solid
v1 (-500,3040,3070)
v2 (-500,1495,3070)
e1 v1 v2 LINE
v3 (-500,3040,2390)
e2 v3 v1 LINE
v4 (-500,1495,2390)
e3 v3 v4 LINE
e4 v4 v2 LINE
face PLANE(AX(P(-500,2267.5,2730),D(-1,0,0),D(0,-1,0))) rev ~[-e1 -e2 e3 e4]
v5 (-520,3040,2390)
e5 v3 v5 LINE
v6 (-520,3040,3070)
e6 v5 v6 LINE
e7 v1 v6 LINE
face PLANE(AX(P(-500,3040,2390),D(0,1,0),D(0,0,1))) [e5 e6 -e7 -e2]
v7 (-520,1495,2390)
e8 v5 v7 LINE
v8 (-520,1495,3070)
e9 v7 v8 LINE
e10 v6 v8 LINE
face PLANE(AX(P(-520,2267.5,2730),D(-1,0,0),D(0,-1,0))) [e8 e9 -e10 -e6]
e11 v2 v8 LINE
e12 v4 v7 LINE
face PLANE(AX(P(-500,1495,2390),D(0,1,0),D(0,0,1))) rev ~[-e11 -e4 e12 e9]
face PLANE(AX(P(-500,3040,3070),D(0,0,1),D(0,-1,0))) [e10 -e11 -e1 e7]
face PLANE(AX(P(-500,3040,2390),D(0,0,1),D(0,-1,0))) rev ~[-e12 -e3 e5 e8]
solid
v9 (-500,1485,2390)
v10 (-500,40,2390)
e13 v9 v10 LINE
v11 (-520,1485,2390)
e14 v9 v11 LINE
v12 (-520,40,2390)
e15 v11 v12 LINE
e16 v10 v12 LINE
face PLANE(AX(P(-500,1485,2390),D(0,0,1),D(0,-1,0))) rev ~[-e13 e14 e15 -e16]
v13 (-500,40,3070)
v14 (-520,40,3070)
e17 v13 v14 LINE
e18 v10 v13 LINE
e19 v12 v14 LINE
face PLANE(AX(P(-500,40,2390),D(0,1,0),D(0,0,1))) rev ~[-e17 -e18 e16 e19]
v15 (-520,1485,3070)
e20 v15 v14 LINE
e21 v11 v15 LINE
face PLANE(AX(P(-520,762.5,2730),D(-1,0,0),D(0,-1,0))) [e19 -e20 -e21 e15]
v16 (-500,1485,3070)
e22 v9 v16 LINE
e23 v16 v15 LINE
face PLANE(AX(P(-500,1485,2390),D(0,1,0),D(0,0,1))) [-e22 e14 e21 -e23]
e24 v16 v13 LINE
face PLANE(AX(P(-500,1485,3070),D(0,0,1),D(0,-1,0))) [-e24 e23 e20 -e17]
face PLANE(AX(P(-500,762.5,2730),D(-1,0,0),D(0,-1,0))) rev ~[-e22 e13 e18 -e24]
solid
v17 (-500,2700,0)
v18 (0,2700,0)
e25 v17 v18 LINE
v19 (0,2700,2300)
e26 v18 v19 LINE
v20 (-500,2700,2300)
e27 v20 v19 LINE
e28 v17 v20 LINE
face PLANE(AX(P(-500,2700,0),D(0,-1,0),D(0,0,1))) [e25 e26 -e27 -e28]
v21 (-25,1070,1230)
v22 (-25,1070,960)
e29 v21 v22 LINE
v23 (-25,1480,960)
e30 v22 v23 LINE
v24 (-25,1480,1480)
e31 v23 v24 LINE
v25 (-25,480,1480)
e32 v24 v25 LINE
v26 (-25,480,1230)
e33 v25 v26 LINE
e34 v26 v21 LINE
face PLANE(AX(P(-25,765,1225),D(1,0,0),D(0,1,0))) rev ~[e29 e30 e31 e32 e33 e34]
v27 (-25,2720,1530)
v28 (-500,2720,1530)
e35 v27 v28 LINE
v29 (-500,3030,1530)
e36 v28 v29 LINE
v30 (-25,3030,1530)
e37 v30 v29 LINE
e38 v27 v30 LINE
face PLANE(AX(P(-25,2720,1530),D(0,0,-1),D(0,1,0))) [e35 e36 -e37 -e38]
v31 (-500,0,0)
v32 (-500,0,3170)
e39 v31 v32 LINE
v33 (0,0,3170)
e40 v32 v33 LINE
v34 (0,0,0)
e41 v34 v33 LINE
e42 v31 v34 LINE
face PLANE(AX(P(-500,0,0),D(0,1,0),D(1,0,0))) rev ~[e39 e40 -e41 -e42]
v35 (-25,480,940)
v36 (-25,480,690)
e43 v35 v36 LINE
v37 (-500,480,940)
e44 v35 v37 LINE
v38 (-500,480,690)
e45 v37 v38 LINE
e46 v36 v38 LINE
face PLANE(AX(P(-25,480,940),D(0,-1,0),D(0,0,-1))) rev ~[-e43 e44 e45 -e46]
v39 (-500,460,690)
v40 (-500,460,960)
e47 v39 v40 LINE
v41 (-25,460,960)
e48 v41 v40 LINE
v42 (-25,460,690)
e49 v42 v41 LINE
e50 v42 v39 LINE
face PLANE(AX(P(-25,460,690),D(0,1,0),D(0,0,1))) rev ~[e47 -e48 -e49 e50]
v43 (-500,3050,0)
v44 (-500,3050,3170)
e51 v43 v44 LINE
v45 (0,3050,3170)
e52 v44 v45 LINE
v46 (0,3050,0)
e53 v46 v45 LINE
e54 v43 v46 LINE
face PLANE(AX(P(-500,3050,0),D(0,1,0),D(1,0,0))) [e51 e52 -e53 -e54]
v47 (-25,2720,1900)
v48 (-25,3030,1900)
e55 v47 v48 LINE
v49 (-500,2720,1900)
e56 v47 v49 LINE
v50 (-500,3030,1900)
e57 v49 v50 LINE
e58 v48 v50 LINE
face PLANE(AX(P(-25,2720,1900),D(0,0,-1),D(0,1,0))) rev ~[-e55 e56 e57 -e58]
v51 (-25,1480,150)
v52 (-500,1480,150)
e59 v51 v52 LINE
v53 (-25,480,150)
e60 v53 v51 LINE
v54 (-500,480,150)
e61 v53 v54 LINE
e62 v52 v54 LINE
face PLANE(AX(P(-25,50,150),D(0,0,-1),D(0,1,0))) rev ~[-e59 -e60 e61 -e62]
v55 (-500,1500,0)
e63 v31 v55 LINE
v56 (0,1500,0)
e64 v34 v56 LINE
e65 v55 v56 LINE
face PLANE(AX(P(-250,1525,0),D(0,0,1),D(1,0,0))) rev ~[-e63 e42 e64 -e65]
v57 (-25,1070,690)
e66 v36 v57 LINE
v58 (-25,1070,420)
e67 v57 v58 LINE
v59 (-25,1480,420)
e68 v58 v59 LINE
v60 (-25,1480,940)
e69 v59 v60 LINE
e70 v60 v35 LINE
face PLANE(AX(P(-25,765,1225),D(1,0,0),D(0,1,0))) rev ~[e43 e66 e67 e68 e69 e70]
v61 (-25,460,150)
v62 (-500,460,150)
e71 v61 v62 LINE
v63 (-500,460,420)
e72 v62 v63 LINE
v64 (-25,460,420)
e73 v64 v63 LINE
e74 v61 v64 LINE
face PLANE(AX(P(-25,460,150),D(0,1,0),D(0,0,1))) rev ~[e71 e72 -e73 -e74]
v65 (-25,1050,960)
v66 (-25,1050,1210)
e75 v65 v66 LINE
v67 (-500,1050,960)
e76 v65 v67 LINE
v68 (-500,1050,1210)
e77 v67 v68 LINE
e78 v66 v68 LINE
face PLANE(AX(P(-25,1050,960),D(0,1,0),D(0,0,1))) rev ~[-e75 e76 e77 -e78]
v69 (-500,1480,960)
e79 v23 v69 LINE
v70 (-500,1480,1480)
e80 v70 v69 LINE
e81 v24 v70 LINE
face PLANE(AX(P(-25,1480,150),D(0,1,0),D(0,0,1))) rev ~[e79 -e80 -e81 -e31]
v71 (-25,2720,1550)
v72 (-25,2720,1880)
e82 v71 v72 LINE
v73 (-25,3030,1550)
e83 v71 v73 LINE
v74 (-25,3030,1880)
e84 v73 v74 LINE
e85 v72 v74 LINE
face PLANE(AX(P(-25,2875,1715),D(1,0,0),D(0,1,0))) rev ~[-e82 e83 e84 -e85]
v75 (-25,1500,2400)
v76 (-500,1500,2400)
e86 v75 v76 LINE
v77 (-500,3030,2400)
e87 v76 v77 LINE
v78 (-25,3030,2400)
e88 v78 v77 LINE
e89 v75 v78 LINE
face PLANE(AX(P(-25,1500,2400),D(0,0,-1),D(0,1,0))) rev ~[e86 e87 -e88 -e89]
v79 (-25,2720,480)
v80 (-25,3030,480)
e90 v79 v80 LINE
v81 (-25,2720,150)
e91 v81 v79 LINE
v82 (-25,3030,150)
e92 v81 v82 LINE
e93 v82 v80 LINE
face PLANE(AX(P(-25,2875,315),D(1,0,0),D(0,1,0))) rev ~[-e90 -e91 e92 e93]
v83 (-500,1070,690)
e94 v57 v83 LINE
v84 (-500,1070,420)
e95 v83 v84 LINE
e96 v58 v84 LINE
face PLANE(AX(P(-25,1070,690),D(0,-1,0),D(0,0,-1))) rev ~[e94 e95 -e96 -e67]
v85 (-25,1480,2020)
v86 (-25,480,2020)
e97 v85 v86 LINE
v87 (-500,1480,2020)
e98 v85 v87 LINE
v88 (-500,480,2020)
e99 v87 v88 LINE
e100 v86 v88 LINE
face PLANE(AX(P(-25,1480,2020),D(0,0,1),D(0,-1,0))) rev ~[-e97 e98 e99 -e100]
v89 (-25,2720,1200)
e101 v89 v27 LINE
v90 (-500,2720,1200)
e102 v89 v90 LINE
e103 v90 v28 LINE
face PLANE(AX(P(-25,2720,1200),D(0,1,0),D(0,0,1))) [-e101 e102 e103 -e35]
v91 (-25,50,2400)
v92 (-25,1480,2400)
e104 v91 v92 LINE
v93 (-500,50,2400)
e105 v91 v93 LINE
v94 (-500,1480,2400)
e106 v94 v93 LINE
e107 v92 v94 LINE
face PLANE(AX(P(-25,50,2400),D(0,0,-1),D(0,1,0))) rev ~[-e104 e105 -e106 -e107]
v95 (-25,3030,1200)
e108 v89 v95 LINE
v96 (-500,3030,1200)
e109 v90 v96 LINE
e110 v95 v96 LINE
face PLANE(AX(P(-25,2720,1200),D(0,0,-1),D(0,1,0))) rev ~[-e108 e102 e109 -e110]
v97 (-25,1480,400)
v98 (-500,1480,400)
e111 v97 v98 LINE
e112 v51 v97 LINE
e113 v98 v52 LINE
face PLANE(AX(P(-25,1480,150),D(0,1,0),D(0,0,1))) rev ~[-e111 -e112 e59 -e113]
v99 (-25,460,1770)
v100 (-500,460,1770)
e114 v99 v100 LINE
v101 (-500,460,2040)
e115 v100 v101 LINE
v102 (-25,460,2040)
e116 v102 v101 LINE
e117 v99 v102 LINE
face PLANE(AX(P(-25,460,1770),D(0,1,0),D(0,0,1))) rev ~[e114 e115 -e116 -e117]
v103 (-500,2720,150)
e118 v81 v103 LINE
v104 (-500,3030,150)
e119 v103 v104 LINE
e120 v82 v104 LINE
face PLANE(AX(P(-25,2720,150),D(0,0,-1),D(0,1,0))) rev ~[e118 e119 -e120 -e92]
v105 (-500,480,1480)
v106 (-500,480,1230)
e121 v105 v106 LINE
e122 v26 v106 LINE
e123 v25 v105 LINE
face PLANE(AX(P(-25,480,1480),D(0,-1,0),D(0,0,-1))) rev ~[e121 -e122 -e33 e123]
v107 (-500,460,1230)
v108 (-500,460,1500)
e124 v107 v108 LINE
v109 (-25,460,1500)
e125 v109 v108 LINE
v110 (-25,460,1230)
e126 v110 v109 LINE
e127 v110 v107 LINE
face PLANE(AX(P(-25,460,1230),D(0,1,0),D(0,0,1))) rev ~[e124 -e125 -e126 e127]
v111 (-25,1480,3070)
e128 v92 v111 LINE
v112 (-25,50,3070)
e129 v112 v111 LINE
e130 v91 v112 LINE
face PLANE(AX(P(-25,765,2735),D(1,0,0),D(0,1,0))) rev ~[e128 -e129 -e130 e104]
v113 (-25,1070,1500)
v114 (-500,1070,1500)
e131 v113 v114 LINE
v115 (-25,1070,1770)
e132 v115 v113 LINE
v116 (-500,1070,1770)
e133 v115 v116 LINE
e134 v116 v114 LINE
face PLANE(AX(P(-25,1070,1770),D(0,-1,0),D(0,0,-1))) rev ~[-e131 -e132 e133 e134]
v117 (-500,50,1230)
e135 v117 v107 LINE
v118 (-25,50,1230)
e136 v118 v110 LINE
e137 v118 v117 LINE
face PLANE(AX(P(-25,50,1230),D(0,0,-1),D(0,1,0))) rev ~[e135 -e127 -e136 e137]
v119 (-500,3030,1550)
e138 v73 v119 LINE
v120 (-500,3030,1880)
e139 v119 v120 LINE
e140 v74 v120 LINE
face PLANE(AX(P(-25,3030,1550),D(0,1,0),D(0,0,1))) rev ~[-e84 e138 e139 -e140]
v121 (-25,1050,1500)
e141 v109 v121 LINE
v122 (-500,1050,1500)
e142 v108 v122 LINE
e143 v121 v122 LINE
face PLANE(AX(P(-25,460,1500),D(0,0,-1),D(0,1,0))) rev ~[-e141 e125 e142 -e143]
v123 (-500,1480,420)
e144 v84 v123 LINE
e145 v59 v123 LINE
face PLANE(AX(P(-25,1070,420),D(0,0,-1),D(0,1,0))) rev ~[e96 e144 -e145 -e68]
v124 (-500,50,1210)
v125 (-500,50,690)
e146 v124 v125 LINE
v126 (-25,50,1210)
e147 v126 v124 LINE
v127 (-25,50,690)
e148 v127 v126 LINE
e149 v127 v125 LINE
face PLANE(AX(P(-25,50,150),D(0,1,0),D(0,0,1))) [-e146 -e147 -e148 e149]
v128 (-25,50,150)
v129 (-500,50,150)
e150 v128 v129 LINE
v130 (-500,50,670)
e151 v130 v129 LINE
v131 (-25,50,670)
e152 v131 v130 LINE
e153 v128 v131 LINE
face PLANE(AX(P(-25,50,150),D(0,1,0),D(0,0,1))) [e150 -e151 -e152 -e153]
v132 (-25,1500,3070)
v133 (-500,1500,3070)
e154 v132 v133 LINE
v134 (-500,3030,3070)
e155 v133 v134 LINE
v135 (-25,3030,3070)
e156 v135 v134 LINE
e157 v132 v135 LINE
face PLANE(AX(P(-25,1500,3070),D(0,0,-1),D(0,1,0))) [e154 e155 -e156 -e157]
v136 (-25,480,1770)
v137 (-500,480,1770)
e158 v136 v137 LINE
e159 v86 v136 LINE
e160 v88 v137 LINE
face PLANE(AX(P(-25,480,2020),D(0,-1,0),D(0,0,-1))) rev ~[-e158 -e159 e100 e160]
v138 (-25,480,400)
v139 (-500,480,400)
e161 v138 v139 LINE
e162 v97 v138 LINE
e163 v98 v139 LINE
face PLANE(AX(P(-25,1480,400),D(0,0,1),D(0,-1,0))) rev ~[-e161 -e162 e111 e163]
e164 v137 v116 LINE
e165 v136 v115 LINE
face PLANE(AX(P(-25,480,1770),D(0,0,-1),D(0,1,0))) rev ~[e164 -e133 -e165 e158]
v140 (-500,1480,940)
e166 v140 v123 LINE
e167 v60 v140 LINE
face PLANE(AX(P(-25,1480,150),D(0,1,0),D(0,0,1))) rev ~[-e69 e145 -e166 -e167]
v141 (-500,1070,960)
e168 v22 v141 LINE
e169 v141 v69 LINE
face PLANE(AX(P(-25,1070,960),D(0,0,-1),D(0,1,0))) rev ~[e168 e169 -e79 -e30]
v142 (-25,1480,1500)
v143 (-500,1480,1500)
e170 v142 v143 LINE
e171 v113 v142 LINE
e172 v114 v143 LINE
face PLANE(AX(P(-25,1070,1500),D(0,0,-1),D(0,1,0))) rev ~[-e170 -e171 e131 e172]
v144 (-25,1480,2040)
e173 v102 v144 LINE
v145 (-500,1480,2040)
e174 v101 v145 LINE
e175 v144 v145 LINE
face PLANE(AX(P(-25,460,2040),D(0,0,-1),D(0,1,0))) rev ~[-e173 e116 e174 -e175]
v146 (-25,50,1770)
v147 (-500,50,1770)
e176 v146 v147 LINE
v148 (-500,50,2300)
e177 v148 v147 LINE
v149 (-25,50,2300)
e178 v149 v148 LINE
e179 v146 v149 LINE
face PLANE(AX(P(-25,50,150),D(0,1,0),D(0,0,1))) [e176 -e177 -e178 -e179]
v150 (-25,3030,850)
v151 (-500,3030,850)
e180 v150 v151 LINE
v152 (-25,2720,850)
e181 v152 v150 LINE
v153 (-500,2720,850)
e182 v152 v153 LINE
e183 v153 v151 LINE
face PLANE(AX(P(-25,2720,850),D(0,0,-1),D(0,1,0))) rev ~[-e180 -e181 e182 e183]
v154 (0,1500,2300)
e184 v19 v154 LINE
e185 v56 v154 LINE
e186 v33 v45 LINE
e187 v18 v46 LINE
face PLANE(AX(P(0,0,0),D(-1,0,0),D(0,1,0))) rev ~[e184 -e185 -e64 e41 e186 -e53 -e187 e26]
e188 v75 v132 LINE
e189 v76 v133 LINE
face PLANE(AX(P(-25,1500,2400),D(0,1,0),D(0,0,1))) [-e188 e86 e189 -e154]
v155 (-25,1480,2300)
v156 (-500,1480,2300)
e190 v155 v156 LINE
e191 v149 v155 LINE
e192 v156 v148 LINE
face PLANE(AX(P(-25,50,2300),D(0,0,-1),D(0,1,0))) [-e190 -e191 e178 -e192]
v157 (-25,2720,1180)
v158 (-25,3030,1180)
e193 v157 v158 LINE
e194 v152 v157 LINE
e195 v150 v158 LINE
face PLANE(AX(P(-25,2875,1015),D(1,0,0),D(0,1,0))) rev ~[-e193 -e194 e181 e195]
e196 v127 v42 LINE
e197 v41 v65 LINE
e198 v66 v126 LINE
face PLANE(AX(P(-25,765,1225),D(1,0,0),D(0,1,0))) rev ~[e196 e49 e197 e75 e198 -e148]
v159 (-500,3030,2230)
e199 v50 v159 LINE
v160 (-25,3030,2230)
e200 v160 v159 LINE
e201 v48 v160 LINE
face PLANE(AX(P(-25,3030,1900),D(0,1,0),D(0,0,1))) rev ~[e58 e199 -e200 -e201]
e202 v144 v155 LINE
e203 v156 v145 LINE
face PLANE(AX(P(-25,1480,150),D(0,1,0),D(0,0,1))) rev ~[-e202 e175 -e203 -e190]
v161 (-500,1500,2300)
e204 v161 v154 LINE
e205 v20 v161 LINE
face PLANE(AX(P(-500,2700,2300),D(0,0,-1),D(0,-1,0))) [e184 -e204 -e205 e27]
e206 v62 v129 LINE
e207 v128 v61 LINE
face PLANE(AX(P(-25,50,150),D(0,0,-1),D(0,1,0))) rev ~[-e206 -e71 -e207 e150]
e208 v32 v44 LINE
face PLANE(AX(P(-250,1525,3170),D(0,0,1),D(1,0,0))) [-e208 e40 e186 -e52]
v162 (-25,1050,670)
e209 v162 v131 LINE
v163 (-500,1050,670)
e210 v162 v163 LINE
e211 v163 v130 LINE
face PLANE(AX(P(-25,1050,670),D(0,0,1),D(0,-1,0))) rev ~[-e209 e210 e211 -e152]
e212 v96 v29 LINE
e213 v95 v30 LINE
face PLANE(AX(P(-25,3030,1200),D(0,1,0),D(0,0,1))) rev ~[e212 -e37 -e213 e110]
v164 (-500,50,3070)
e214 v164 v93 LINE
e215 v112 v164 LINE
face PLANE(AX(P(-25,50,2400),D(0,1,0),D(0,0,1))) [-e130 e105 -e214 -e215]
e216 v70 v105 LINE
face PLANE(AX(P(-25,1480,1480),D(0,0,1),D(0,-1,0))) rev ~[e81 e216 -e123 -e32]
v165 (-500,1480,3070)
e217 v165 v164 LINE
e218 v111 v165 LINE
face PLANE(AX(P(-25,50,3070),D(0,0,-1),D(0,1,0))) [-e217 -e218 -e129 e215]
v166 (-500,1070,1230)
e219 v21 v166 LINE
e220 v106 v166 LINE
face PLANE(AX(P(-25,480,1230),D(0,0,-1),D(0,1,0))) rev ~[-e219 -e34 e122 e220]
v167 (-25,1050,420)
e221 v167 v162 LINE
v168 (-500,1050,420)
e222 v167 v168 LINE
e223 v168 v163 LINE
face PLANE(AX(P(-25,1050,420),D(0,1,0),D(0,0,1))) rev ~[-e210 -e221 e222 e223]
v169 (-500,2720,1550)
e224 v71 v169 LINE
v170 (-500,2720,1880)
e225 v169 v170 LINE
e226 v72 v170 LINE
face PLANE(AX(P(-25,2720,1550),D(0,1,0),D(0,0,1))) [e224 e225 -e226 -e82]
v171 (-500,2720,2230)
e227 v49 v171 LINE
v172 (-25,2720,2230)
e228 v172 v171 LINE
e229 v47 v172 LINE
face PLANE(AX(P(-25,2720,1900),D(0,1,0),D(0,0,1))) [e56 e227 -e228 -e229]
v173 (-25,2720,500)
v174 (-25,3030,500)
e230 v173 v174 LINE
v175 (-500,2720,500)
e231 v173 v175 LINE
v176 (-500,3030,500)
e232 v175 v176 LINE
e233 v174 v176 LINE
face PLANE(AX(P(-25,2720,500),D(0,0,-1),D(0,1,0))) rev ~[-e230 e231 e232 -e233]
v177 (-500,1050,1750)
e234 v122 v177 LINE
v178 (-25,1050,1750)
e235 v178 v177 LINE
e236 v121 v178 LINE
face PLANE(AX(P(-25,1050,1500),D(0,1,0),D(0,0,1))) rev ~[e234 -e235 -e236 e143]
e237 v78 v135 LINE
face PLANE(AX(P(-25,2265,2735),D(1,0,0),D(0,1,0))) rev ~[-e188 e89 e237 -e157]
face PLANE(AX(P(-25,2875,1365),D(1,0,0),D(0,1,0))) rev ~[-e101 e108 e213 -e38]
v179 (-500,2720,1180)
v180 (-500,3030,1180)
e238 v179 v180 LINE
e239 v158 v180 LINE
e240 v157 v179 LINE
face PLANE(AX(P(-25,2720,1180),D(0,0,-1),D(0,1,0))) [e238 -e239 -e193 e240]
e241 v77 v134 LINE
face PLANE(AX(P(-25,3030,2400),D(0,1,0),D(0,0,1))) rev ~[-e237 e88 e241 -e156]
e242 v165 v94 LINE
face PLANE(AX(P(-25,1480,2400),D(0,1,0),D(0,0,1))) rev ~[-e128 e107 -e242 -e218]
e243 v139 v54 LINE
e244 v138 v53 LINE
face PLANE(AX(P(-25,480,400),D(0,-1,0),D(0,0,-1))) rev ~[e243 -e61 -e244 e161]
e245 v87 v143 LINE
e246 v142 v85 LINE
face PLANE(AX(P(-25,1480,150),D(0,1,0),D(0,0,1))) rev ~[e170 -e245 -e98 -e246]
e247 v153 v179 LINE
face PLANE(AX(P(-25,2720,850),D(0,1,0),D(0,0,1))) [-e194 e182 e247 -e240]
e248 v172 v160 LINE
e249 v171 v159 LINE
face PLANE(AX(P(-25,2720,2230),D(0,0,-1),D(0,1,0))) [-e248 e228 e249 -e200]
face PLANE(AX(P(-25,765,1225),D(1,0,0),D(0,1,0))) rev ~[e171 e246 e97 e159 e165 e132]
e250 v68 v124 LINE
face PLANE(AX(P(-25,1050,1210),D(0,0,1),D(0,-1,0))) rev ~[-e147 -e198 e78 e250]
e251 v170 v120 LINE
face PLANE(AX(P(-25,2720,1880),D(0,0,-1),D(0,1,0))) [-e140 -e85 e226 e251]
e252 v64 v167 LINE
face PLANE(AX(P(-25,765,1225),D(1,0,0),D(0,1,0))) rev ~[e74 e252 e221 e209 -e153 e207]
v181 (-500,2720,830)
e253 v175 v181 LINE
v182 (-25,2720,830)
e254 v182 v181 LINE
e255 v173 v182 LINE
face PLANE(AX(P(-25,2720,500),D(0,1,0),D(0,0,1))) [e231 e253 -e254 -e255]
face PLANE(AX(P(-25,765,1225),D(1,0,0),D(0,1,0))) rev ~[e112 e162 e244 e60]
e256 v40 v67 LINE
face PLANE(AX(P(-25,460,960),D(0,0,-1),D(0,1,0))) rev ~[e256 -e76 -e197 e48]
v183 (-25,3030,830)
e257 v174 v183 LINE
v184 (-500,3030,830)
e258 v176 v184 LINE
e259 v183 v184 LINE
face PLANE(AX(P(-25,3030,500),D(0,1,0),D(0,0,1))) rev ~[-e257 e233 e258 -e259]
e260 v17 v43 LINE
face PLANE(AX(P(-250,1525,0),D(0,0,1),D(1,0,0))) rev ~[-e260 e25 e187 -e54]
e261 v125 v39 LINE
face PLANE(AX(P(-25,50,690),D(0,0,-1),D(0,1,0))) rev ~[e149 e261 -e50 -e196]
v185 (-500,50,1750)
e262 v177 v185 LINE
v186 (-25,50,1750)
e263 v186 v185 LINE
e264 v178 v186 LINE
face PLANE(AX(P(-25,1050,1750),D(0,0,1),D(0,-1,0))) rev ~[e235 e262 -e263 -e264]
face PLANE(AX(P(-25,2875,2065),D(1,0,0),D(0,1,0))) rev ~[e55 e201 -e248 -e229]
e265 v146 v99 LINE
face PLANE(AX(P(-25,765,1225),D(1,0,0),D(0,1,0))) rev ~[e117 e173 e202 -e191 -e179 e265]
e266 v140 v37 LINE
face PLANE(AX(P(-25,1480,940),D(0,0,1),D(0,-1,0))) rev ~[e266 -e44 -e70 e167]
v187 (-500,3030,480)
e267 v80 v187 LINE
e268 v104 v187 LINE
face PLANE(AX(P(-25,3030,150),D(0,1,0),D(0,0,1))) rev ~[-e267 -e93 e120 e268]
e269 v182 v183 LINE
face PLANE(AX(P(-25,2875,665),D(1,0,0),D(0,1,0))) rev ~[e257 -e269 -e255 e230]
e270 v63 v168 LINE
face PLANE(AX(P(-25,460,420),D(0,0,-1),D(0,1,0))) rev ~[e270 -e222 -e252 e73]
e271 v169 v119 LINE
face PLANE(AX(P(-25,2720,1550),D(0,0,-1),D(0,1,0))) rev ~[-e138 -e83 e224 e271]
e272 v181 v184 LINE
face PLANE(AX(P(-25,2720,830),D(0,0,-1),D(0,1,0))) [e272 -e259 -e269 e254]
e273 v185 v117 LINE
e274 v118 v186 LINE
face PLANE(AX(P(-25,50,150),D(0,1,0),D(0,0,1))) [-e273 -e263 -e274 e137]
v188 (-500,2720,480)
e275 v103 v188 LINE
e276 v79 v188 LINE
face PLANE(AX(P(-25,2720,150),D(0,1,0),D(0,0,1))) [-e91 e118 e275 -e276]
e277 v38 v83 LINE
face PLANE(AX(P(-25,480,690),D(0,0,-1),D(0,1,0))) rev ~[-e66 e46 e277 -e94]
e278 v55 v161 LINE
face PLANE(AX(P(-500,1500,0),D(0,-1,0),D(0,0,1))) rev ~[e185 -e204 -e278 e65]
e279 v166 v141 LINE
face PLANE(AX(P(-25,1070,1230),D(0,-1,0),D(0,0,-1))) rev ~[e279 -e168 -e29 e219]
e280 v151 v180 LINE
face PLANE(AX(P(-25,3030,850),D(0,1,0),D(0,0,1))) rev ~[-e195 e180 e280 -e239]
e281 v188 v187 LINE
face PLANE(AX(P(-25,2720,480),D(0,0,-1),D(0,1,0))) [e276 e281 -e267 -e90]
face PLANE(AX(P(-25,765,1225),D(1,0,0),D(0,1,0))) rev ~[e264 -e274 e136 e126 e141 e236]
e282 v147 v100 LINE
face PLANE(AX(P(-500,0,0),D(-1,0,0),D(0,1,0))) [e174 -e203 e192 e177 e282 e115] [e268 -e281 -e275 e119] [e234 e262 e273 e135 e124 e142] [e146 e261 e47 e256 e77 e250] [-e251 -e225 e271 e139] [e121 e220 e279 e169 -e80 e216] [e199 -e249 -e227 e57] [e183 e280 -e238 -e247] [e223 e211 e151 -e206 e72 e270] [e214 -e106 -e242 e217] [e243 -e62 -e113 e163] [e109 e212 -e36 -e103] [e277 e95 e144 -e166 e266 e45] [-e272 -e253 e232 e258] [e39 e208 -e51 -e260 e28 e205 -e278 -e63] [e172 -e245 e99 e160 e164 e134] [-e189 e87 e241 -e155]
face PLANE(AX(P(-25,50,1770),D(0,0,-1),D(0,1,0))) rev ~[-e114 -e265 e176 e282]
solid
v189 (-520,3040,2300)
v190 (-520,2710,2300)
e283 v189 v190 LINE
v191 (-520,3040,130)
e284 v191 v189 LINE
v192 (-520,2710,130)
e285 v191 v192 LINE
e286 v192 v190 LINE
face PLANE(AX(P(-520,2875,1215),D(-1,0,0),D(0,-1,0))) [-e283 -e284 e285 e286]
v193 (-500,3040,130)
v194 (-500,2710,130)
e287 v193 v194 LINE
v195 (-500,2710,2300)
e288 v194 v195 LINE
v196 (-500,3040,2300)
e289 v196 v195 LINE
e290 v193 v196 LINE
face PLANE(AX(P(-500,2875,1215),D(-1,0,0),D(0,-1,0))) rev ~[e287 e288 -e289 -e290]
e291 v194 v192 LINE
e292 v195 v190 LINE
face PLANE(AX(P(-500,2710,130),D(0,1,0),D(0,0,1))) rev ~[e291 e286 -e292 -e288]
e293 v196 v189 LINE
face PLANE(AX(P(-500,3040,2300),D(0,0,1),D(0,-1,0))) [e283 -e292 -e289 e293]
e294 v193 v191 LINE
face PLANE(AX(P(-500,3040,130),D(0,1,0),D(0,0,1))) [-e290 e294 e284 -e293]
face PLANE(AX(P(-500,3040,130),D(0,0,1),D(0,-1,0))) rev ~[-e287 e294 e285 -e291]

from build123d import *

# Parameters (mm, degrees)
F0_W      = 500
F0_H      = 3050
F1_DEPTH  = 3170
F3_W      = 1200
F3_H      = 2300
F4_DEPTH  = 500
F7_W      = 310
F7_H      = 330
F7_W_2    = 1530
F7_H_2    = 670
F8_DEPTH  = 475
F9_W      = 1430
F9_H      = 2150
F9_H_2    = 670
F10_DEPTH = 475.001
F12_DEPTH = 475
F13_W     = 330
F13_H     = 2170
F13_W_2   = 1545
F13_H_2   = 680
F13_W_3   = 1445
F14_DEPTH = 20


with BuildPart() as f1:
    # F0 (on Top) → F1 (new body)
    with BuildSketch(Plane.XY):
        with Locations((-250, 1525)):
            Rectangle(F0_W, F0_H)
    extrude(amount=F1_DEPTH)

    # F3 (on face) → F4 (cut, through all)
    with BuildSketch(Plane(origin=(-500, 0, 0), x_dir=(0, -1, 0), z_dir=(-1, 0, 0))):
        with Locations((-2100, 1150)):
            Rectangle(F3_W, F3_H)
    extrude(amount=-F4_DEPTH, mode=Mode.SUBTRACT)

    # F7 (on offset) → F8 (cut, through all)
    with BuildSketch(Plane.YZ.offset(-25)):
        with Locations((2875, 315)):
            Rectangle(F7_W, F7_H)
        with Locations((2875, 665)):
            Rectangle(F7_W, F7_H)
        with Locations((2875, 1015)):
            Rectangle(F7_W, F7_H)
        with Locations((2875, 1365)):
            Rectangle(F7_W, F7_H)
        with Locations((2875, 1715)):
            Rectangle(F7_W, F7_H)
        with Locations((2875, 2065)):
            Rectangle(F7_W, F7_H)
        with Locations((2265, 2735)):
            Rectangle(F7_W_2, F7_H_2)
    extrude(amount=-F8_DEPTH, mode=Mode.SUBTRACT)

    # F9 (on offset) → F10 (cut, through all)
    with BuildSketch(Plane.YZ.offset(-25)):
        with Locations((765, 1225)):
            Rectangle(F9_W, F9_H)
        with Locations((765, 2735)):
            Rectangle(F9_W, F9_H_2)
    extrude(amount=-F10_DEPTH, mode=Mode.SUBTRACT)

    # F11 (on face) → F12 (join, through all)
    with BuildSketch(Plane(origin=(-25, 0, 0), x_dir=(0, -1, 0), z_dir=(-1, 0, 0))):
        Polygon((-1070, 420), (-1480, 420), (-1480, 400), (-480, 400), (-480, 150), (-460, 150), (-460, 420), (-1050, 420), align=None)
        Polygon((-1070, 690), (-1070, 420), (-1050, 420), (-1050, 670), (-50, 670), (-50, 690), (-460, 690), (-480, 690), align=None)
        Polygon((-480, 940), (-480, 690), (-460, 690), (-460, 960), (-1050, 960), (-1070, 960), (-1480, 960), (-1480, 940), align=None)
        Polygon((-1070, 960), (-1050, 960), (-1050, 1210), (-50, 1210), (-50, 1230), (-460, 1230), (-480, 1230), (-1070, 1230), align=None)
        Polygon((-480, 1480), (-480, 1230), (-460, 1230), (-460, 1500), (-1050, 1500), (-1070, 1500), (-1480, 1500), (-1480, 1480), align=None)
        Polygon((-1070, 1500), (-1050, 1500), (-1050, 1750), (-50, 1750), (-50, 1770), (-460, 1770), (-480, 1770), (-1070, 1770), align=None)
        Polygon((-480, 2020), (-480, 1770), (-460, 1770), (-460, 2040), (-1480, 2040), (-1480, 2020), align=None)
    extrude(amount=F12_DEPTH)


with BuildPart() as f14:
    # F13 (on face) → F14 (new body)
    with BuildSketch(Plane(origin=(-500, 0, 0), x_dir=(0, -1, 0), z_dir=(-1, 0, 0))):
        with Locations((-2875, 1215)):
            Rectangle(F13_W, F13_H)
        with Locations((-2267.5, 2730)):
            Rectangle(F13_W_2, F13_H_2)
        with Locations((-762.5, 2730)):
            Rectangle(F13_W_3, F13_H_2)
    extrude(amount=F14_DEPTH)


solid = Compound([f1.part, f14.part])
